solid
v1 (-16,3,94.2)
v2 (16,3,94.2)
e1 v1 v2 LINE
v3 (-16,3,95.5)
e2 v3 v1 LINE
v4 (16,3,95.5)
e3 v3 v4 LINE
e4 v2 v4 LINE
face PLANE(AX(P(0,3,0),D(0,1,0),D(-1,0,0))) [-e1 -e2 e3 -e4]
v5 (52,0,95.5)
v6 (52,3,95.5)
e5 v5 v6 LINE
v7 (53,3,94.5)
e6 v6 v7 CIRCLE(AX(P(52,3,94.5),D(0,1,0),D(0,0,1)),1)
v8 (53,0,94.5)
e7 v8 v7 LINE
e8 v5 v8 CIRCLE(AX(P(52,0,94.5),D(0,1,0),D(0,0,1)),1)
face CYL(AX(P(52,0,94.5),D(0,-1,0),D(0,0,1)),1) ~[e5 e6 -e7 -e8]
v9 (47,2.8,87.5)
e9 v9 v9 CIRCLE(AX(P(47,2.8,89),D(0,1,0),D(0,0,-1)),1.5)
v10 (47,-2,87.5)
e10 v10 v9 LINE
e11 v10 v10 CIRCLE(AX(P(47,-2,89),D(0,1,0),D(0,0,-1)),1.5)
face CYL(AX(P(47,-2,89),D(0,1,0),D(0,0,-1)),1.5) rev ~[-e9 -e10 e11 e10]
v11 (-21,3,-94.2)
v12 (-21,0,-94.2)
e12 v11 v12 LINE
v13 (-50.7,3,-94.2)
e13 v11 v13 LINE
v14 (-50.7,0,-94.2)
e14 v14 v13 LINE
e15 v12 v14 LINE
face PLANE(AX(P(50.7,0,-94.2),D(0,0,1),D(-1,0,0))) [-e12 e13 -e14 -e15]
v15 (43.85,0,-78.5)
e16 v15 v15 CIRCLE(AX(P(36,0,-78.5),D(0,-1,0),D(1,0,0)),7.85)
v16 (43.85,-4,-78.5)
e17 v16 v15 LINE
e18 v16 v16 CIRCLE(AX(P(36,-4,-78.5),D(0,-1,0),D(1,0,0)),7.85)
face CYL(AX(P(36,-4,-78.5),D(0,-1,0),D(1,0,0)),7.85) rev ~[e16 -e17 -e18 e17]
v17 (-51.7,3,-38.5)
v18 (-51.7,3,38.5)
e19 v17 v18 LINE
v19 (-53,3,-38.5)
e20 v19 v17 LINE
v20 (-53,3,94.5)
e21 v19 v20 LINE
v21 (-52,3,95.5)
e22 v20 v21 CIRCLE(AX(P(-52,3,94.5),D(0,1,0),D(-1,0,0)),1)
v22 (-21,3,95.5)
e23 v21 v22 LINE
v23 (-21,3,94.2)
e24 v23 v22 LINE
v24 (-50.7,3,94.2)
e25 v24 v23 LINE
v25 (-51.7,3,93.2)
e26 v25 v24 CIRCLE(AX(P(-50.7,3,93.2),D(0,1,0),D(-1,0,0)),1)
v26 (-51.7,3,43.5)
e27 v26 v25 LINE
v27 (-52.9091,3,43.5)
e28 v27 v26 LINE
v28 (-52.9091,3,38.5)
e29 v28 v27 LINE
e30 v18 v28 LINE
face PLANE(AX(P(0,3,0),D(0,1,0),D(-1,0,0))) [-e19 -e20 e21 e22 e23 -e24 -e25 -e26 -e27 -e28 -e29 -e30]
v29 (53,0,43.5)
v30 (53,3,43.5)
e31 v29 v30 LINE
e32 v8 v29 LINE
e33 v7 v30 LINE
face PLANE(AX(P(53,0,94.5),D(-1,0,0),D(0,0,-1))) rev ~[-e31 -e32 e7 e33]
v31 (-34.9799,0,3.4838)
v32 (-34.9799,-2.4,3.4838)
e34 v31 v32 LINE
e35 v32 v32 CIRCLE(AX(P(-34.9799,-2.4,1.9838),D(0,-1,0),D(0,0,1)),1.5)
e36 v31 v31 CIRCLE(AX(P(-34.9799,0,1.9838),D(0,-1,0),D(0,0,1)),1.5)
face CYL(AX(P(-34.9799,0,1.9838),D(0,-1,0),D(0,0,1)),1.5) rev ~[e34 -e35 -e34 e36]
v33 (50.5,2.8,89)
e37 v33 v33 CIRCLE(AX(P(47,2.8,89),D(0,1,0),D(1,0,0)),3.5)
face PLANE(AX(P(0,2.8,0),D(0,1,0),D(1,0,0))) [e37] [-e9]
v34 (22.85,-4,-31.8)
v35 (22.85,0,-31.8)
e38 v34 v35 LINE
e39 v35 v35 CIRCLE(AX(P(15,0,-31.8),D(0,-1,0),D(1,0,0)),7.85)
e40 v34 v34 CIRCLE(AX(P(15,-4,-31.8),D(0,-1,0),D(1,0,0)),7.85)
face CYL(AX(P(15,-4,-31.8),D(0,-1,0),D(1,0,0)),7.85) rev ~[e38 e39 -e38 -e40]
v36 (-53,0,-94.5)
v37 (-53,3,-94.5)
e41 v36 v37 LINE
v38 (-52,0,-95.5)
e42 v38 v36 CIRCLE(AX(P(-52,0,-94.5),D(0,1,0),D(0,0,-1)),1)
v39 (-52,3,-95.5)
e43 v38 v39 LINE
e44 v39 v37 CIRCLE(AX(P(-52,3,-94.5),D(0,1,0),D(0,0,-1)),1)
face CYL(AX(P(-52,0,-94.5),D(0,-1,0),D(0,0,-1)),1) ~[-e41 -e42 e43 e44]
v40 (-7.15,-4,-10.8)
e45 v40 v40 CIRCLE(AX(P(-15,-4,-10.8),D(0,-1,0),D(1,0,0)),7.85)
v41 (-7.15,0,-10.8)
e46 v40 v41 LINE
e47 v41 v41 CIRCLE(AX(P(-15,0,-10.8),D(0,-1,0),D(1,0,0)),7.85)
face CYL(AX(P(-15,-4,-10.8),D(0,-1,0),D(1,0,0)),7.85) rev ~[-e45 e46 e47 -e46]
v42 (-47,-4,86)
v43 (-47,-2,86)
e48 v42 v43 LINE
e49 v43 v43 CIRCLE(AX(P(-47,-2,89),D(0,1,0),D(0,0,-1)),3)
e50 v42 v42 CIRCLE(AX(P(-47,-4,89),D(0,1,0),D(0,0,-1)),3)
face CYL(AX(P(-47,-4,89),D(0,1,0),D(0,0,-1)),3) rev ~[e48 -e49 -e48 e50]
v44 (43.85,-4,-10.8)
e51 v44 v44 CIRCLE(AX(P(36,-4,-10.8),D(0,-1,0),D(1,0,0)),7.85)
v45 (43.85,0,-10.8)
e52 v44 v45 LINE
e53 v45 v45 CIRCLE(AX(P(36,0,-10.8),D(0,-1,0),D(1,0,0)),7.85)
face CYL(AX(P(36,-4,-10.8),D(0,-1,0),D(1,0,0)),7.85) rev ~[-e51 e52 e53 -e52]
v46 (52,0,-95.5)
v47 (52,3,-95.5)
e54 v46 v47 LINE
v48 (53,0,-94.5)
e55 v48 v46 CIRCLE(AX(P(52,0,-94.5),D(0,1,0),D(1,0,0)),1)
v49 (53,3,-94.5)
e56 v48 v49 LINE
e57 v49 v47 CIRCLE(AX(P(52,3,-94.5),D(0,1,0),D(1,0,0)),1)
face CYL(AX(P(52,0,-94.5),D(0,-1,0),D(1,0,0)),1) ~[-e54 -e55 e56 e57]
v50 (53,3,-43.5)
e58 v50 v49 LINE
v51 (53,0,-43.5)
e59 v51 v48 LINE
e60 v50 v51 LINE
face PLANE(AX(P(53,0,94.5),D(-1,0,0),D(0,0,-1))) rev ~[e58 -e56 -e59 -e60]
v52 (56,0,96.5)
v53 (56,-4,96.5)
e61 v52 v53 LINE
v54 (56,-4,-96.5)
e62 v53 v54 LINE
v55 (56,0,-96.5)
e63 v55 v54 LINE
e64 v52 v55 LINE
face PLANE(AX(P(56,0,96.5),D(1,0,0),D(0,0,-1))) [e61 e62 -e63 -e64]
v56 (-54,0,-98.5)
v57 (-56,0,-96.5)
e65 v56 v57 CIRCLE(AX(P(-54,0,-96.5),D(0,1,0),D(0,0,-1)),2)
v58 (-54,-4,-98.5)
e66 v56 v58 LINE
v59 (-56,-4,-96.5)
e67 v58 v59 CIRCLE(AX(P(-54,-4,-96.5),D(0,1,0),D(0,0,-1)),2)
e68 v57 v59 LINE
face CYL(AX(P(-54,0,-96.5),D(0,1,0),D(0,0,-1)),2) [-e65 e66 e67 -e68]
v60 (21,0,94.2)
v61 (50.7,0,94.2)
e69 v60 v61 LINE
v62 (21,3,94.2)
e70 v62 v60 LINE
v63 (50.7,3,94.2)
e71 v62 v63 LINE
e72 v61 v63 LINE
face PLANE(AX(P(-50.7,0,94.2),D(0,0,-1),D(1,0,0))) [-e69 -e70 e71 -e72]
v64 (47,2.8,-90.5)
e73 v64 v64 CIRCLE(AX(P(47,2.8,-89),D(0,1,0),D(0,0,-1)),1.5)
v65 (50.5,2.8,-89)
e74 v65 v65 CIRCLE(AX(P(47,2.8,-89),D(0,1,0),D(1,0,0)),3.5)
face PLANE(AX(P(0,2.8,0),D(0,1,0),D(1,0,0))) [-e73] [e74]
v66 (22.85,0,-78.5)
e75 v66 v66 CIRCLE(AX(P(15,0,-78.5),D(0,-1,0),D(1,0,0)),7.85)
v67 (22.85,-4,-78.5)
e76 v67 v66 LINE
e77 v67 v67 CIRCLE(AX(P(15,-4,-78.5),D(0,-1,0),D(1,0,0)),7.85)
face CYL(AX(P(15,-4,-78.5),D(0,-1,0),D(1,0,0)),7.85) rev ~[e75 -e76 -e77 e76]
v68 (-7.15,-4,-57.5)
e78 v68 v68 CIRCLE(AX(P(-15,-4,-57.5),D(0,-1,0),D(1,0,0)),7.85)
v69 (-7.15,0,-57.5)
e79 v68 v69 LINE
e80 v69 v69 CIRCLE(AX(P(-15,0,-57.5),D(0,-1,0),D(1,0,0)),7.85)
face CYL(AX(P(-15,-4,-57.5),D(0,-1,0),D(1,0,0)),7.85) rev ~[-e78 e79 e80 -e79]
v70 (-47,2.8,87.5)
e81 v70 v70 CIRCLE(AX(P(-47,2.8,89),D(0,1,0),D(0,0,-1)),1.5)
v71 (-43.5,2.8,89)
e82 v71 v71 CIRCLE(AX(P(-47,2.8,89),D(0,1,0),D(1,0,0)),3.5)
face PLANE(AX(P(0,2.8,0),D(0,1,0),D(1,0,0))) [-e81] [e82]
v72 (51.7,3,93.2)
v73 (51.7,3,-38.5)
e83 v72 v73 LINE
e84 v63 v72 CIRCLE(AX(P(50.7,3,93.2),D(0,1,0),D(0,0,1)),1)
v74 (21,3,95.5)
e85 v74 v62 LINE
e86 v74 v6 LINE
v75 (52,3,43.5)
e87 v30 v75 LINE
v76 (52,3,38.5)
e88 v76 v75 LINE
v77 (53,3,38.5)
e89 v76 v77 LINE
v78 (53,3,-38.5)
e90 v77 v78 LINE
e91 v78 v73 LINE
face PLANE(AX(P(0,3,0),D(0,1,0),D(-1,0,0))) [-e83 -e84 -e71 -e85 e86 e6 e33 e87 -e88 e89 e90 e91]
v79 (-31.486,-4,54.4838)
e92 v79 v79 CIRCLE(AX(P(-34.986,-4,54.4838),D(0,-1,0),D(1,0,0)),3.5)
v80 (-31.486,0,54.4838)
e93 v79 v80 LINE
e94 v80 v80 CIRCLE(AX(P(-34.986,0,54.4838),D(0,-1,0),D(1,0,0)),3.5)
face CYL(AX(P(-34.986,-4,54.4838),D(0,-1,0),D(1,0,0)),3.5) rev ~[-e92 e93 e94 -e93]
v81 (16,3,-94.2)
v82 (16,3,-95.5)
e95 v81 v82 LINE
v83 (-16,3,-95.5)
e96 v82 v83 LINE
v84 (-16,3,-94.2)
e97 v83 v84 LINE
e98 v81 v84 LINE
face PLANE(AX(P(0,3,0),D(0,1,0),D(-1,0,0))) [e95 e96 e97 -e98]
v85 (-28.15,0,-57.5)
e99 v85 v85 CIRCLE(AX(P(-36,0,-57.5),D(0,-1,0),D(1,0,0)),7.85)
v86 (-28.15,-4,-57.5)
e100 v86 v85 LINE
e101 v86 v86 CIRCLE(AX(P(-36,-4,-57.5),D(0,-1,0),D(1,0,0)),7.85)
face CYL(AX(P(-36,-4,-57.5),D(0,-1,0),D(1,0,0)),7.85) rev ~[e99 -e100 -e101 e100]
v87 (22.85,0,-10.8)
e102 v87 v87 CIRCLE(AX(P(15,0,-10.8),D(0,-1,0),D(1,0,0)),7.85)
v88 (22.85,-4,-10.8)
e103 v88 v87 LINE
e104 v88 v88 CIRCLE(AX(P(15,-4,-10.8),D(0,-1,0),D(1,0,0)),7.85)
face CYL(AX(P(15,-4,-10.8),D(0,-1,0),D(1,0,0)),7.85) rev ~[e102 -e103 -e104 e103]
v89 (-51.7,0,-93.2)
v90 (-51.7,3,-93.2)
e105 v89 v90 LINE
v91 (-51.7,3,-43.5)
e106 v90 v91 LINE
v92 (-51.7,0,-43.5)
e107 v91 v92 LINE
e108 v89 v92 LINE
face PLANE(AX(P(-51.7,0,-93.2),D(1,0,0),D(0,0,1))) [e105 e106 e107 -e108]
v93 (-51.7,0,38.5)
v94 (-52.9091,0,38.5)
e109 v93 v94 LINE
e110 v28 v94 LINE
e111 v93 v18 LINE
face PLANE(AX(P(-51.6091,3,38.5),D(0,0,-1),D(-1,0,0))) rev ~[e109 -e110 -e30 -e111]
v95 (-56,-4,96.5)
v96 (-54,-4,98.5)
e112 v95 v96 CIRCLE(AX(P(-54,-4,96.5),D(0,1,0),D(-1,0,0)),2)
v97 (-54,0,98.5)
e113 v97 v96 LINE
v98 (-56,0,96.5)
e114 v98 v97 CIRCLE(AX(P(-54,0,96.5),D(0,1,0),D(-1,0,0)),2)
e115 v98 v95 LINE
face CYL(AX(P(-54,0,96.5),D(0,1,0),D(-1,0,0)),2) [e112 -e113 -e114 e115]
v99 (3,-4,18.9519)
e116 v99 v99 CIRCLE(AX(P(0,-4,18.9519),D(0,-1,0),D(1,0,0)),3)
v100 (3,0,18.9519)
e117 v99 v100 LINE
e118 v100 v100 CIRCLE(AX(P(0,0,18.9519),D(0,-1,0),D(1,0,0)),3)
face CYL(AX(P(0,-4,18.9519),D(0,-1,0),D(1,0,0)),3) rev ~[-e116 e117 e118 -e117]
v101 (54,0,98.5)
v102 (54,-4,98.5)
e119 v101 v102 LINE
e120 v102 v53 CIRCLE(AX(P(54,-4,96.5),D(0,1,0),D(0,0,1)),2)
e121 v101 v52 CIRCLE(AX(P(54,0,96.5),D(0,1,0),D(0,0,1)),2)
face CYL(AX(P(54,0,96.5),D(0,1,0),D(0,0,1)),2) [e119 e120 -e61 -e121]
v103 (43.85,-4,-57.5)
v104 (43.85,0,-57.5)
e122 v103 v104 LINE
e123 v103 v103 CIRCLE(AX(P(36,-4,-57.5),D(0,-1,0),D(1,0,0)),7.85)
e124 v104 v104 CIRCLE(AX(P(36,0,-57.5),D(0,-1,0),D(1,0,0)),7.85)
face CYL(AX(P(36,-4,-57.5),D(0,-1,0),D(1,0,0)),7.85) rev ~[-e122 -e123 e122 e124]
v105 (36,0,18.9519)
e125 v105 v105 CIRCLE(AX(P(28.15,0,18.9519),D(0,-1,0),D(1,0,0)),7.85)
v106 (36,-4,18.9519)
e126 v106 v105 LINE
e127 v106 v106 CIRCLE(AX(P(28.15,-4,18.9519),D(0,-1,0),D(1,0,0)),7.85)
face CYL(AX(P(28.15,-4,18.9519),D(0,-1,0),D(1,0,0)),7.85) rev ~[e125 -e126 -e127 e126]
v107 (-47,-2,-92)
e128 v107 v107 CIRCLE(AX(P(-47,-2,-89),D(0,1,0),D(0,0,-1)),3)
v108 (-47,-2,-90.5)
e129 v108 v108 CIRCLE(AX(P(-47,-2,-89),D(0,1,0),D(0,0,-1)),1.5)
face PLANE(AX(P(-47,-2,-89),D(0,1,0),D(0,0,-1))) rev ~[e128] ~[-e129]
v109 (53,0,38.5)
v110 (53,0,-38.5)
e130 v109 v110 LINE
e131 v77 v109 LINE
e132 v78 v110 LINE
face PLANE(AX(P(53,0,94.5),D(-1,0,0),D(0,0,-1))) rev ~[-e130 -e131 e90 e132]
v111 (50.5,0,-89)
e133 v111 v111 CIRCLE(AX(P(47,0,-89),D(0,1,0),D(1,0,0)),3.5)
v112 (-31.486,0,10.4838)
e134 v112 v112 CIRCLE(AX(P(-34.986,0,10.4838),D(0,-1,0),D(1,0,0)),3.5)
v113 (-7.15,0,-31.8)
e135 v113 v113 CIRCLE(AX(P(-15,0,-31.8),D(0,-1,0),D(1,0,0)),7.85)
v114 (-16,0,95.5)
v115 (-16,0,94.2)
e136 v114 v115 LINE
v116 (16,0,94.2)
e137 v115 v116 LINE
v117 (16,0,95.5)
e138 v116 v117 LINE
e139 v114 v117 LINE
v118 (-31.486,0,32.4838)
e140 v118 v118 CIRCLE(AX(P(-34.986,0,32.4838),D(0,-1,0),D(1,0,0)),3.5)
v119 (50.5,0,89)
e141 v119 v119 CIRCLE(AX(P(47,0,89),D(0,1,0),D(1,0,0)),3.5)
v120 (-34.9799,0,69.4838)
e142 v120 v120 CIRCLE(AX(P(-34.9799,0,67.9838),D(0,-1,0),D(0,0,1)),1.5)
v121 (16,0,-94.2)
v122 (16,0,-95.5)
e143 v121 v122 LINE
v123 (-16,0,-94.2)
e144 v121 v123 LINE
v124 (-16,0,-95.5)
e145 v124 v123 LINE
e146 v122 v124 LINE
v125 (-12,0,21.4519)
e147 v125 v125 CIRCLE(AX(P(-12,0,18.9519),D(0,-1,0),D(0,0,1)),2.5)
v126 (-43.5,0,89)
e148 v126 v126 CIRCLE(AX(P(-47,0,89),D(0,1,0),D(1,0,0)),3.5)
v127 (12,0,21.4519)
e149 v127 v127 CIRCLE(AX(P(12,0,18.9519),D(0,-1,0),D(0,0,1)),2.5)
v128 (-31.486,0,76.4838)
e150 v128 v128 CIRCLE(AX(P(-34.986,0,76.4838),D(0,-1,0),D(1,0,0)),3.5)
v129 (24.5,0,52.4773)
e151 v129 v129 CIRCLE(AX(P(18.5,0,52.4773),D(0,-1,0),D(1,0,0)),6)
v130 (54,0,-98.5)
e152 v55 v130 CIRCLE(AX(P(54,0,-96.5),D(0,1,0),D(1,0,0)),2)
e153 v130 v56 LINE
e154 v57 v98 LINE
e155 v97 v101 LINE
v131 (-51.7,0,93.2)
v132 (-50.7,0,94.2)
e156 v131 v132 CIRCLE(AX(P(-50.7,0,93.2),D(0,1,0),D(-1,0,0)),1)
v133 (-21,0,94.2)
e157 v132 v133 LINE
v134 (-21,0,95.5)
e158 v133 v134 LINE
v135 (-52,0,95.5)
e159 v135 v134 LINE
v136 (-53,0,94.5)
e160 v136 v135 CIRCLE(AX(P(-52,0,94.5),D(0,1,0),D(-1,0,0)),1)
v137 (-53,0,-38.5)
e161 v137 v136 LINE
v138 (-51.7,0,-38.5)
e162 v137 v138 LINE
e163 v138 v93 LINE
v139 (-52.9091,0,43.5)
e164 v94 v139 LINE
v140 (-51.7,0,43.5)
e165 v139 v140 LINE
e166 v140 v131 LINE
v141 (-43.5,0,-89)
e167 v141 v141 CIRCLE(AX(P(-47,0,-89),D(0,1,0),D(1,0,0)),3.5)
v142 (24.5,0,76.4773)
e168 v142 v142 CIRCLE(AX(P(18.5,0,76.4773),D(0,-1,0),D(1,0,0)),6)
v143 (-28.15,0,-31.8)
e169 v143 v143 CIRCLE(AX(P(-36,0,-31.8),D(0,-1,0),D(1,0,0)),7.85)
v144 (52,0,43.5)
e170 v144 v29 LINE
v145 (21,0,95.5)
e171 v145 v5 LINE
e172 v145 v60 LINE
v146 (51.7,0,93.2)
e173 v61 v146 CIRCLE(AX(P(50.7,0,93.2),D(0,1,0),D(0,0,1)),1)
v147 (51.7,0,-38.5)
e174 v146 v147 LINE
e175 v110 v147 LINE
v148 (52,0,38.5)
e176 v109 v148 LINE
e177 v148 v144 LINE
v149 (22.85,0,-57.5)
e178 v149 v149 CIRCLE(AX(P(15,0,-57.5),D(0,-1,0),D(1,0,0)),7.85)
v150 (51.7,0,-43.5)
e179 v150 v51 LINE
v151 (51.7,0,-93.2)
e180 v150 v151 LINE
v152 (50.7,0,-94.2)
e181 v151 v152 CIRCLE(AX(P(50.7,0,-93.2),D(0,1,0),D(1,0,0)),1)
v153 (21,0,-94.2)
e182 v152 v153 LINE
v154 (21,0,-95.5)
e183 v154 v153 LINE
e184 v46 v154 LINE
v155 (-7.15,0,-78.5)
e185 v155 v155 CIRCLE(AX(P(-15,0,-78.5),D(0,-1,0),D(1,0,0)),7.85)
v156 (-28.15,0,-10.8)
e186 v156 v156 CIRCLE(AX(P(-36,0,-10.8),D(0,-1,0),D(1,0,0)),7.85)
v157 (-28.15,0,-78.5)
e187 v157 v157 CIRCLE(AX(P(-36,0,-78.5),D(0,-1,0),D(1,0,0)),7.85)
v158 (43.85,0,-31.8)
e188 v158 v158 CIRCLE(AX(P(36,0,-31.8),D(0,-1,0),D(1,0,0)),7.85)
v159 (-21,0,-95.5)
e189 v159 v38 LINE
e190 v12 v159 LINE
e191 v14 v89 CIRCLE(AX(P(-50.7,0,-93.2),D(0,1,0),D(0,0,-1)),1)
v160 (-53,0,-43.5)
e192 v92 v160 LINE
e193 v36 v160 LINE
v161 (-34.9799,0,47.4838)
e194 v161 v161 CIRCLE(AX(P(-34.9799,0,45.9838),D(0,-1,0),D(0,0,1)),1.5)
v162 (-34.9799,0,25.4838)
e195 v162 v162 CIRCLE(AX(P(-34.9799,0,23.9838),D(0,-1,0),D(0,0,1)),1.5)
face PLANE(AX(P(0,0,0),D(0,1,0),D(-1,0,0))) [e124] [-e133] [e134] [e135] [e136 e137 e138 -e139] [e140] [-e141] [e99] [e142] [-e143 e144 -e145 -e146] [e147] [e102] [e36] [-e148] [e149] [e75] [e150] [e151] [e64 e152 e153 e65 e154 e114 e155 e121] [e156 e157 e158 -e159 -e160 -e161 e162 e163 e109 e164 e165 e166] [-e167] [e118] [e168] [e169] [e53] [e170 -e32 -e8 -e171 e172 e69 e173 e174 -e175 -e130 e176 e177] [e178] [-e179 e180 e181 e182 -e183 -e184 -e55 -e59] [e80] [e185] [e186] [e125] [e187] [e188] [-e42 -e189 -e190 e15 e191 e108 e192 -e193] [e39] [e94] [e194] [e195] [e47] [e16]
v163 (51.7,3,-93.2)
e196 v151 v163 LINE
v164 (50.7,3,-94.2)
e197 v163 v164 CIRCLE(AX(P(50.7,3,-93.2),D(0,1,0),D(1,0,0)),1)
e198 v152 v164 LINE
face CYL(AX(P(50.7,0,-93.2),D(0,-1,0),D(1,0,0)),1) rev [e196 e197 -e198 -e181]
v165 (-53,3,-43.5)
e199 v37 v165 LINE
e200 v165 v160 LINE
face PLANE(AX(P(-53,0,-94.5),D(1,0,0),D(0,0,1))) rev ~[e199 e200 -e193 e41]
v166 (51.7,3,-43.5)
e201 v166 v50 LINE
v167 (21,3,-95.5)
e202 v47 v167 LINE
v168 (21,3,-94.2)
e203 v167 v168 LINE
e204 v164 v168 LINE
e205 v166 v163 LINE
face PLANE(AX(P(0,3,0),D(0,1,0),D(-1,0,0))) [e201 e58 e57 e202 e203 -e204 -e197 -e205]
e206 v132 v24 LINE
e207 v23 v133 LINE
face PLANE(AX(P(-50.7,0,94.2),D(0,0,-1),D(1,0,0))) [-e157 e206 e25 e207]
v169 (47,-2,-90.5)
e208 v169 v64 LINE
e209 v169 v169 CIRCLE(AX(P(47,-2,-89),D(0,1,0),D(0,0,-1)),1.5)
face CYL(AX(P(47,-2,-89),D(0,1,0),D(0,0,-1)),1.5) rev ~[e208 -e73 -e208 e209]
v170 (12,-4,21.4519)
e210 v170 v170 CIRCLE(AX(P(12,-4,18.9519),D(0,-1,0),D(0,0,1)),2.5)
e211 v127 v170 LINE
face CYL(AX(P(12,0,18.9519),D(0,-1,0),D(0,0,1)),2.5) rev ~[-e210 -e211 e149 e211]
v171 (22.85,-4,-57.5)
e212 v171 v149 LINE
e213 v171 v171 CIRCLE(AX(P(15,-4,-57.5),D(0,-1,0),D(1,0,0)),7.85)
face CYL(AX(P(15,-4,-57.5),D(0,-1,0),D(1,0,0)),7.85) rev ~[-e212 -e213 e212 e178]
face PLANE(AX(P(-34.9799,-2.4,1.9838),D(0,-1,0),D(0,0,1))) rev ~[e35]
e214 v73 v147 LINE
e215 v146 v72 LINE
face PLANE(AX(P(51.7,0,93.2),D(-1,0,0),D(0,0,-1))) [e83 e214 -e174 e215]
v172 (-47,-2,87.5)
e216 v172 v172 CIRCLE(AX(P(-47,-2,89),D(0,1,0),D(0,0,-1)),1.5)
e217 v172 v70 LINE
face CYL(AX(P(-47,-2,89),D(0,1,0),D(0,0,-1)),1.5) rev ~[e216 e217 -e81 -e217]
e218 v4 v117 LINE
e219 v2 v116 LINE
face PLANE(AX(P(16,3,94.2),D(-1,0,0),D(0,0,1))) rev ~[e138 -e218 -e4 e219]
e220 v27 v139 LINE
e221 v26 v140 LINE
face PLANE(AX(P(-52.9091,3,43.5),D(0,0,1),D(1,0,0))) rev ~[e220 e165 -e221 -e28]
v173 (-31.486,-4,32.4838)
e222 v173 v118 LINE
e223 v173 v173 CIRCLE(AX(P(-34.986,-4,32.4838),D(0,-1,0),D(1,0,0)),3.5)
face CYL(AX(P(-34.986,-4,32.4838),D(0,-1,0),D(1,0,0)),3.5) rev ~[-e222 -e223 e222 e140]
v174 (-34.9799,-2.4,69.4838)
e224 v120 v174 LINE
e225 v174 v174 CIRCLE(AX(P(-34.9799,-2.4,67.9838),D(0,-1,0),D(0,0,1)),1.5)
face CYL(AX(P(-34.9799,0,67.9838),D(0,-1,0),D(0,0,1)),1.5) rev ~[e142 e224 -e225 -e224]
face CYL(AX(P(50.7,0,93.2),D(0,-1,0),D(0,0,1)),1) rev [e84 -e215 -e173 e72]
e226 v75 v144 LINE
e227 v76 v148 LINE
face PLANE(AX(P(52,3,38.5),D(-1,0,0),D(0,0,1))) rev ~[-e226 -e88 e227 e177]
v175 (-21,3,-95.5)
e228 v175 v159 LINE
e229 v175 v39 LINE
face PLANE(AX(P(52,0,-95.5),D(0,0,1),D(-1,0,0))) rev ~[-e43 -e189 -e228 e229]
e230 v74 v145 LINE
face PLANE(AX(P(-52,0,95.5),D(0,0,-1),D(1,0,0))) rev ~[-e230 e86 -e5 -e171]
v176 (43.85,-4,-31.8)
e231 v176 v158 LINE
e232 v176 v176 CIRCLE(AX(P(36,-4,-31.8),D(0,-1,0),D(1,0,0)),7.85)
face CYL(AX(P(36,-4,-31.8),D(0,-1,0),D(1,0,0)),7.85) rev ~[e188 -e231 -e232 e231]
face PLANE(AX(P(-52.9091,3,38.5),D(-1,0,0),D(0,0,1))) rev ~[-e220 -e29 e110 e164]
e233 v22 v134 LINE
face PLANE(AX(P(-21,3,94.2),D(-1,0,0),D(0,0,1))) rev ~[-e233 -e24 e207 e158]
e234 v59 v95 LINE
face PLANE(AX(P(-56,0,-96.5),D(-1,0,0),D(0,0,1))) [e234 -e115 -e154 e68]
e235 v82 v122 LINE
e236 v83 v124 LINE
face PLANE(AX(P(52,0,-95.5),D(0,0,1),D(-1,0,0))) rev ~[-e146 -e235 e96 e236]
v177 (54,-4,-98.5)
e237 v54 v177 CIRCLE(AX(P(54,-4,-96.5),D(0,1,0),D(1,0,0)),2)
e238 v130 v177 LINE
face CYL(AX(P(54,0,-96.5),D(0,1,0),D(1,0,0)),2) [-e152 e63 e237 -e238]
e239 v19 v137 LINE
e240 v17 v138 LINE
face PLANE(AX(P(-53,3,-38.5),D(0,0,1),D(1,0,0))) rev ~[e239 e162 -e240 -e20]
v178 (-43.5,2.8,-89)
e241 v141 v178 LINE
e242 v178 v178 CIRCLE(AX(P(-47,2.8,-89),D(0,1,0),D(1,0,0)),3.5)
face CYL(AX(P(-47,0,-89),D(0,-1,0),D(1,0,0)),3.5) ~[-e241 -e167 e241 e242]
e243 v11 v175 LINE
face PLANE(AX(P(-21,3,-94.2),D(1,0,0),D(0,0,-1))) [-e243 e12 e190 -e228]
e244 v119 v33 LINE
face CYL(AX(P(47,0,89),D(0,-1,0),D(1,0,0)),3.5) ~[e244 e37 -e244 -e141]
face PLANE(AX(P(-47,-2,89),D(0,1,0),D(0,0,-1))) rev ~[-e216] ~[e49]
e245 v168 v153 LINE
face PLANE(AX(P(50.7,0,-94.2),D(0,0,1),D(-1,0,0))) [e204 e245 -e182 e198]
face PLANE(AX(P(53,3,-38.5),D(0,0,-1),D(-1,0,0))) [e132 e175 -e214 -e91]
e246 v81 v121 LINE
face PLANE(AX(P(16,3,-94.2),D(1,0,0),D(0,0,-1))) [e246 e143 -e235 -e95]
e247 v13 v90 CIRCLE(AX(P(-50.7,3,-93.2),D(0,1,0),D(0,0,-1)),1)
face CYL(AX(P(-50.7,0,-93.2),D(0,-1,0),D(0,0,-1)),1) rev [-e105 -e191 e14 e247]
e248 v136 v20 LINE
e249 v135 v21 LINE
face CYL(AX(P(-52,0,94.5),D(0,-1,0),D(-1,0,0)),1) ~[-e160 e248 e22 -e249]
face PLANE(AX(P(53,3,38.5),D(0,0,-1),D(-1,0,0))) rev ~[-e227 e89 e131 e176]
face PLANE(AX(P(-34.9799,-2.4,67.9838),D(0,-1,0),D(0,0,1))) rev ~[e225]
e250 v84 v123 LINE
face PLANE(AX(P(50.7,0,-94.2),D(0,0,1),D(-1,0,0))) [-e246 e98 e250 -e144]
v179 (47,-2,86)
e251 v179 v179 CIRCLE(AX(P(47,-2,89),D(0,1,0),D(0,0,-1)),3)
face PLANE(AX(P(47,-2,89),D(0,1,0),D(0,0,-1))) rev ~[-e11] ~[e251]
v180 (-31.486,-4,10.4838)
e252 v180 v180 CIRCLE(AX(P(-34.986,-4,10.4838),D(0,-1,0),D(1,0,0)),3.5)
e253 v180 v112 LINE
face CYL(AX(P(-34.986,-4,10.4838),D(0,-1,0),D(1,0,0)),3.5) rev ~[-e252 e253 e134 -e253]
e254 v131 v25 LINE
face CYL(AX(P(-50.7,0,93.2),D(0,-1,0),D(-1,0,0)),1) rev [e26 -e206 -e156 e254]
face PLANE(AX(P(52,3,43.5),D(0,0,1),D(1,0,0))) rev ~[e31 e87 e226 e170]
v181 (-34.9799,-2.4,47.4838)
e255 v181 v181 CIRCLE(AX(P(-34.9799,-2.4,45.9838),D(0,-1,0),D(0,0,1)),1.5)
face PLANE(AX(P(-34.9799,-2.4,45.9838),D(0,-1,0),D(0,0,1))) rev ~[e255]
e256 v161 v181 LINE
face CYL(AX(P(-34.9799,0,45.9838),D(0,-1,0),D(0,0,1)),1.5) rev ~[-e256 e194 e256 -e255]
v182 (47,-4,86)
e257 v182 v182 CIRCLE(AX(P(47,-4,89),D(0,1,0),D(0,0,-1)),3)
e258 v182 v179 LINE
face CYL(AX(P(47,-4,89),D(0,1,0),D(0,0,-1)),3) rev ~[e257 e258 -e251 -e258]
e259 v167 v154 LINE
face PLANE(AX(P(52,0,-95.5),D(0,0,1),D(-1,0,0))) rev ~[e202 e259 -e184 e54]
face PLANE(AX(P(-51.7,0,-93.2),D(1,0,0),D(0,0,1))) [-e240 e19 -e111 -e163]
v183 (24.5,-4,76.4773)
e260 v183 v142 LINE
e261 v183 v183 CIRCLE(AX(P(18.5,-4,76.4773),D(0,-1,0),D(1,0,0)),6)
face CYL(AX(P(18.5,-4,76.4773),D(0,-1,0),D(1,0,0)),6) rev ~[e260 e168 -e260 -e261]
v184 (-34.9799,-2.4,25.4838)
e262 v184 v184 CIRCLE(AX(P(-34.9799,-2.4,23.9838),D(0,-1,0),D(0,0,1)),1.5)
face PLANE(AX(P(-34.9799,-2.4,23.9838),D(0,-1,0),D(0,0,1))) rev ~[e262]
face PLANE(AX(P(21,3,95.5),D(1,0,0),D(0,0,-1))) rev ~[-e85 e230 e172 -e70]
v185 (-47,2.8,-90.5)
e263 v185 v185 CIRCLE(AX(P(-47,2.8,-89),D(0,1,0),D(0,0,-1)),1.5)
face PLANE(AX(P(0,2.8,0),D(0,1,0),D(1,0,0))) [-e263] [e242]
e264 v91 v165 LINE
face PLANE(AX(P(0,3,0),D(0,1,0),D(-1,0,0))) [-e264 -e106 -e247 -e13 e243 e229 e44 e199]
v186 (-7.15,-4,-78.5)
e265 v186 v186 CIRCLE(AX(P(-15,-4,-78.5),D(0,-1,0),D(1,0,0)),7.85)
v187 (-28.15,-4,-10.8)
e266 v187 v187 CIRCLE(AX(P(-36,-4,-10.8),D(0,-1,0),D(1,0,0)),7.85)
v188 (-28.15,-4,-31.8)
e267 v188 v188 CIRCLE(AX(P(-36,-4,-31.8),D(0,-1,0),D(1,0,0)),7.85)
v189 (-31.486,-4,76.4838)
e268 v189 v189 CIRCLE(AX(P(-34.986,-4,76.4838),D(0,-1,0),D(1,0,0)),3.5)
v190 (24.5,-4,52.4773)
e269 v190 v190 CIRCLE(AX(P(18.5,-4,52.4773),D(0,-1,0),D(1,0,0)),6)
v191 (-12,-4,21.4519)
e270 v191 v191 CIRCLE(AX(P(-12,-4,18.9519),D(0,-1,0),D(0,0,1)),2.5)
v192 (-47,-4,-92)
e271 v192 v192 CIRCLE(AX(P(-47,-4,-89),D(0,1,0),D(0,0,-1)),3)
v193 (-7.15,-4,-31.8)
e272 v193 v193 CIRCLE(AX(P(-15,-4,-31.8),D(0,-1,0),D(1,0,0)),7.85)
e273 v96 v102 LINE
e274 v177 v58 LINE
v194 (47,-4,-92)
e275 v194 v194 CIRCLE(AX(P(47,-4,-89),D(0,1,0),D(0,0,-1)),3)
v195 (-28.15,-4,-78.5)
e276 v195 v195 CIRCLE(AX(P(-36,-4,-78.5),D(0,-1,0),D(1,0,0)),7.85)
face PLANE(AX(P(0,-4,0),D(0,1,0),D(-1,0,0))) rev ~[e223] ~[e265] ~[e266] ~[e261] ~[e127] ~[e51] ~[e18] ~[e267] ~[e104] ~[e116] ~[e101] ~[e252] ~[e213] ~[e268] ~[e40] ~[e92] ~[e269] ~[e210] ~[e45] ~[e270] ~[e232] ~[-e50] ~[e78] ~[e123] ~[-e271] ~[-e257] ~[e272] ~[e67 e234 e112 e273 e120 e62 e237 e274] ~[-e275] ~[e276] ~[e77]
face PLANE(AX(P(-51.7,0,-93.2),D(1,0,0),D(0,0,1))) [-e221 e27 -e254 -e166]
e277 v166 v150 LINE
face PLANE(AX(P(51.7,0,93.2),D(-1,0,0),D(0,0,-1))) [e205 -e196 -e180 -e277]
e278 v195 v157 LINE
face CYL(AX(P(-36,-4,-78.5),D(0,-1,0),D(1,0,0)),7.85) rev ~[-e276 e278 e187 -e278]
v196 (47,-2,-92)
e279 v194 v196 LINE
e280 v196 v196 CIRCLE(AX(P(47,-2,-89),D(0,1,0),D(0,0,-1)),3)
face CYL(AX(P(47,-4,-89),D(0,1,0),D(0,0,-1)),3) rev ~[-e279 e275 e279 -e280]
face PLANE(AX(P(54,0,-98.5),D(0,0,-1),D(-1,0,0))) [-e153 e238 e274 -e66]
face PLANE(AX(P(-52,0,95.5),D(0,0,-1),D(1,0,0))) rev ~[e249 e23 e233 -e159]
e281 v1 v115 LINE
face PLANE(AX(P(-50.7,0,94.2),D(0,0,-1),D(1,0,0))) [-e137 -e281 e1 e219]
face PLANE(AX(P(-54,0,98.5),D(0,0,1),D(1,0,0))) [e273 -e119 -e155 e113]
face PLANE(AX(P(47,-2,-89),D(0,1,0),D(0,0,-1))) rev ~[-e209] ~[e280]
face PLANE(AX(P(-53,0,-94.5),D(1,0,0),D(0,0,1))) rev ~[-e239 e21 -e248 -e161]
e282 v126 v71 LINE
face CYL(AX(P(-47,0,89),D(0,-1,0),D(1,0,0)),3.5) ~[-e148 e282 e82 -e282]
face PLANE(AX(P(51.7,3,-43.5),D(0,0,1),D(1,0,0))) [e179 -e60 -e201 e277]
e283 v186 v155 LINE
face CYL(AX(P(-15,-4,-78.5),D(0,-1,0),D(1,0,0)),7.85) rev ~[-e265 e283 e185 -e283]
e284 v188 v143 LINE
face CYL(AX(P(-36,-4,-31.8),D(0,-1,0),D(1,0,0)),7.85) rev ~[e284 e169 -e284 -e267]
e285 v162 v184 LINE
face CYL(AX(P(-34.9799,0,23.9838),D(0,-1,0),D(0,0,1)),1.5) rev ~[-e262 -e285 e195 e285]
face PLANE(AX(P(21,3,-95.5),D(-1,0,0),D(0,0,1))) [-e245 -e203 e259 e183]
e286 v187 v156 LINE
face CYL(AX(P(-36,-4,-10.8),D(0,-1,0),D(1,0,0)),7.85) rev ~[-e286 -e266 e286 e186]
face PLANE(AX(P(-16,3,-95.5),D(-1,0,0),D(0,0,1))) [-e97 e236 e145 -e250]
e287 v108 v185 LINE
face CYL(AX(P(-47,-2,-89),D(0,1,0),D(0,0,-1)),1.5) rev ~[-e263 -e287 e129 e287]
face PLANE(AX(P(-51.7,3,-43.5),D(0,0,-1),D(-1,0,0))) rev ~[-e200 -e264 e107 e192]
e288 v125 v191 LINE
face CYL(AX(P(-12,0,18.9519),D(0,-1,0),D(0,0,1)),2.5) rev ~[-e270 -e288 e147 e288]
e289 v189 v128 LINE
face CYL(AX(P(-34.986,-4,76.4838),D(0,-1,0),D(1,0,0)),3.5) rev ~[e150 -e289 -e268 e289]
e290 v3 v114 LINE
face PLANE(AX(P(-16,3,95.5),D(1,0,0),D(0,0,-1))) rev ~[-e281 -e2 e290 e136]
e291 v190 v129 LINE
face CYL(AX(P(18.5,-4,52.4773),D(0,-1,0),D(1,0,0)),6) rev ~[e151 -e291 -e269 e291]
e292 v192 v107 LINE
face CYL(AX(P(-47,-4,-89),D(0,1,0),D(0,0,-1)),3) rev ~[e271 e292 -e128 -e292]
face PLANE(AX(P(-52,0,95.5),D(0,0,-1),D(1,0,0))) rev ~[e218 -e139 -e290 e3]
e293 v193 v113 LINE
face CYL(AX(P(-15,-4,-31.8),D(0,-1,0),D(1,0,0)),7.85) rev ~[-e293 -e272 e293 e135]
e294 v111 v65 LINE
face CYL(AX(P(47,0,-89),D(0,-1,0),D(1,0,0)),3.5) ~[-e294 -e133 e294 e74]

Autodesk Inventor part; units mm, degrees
ref_plane "YZ Plane" through (0, 0, 0) normal (1, 0, 0) x (0, 1, 0)
ref_plane "XZ Plane" through (0, 0, 0) normal (0, 1, 0) x (-1, 0, 0)
ref_plane "XY Plane" through (0, 0, 0) normal (0, 0, 1) x (1, 0, 0)
sketch "Sketch1" plane through (0, 0, 0) normal (0, 1, 0) x (-1, 0, 0)
  line L0 (54, 98.5) -> (-54, 98.5)
  line L1 (-56, 96.5) -> (-56, -96.5)
  line L2 (-54, -98.5) -> (54, -98.5)
  line L3 (56, -96.5) -> (56, 96.5)
  line L4 (56, 98.5) -> (-56, -98.5) construction
  line L5 (-56, 98.5) -> (56, -98.5) construction
  line L6 (52, 95.5) -> (-52, 95.5)
  line L7 (-53, 94.5) -> (-53, -94.5)
  line L8 (-52, -95.5) -> (52, -95.5)
  line L9 (53, -94.5) -> (53, 94.5)
  arc A0 (56, 96.5) -> (54, 98.5) centre (54, 96.5) ccw
  arc A1 (-54, 98.5) -> (-56, 96.5) centre (-54, 96.5) ccw
  arc A2 (54, -98.5) -> (56, -96.5) centre (54, -96.5) ccw
  arc A3 (-56, -96.5) -> (-54, -98.5) centre (-54, -96.5) ccw
  line L10 (50.7, 94.2) -> (-50.7, 94.2)
  line L11 (-51.7, 93.2) -> (-51.7, -93.2)
  line L12 (-50.7, -94.2) -> (50.7, -94.2)
  line L13 (51.7, -93.2) -> (51.7, 93.2)
  arc A4 (53, 94.5) -> (52, 95.5) centre (52, 94.5) ccw
  arc A5 (51.7, 93.2) -> (50.7, 94.2) centre (50.7, 93.2) ccw
  arc A6 (52, -95.5) -> (53, -94.5) centre (52, -94.5) ccw
  arc A7 (50.7, -94.2) -> (51.7, -93.2) centre (50.7, -93.2) ccw
  arc A8 (-53, -94.5) -> (-52, -95.5) centre (-52, -94.5) ccw
  arc A9 (-51.7, -93.2) -> (-50.7, -94.2) centre (-50.7, -93.2) ccw
  arc A10 (-52, 95.5) -> (-53, 94.5) centre (-52, 94.5) ccw
  arc A11 (-50.7, 94.2) -> (-51.7, 93.2) centre (-50.7, 93.2) ccw
  point P0 (0, 0)
  dimension "d0" = 112
  dimension "d1" = 197
  dimension "d2" = 3
  dimension "d3" = 2
  dimension "d4" = 1.3
  dimension "d7" = 1
extrude "Extrusion1" add sketch "Sketch1" against normal blind 4 contours A0 L3 A2 L2 A3 L1 A1 L0 | A4 L9 A6 L8 A8 L7 A10 L6 | A5 L13 A7 L12 A9 L11 A11 L10
extrude "Extrusion2" add sketch "Sketch1" along normal blind 3 contours A4 L9 A6 L8 A8 L7 A10 L6
sketch "Sketch2" plane through (0, 3, 0) normal (0, 1, 0) x (1, 0, 0)
  line L0 (-52.9091, -43.5) -> (-51.6091, -43.5)
  line L1 (-51.6091, -43.5) -> (-51.6091, -38.5)
  line L2 (-51.6091, -38.5) -> (-52.9091, -38.5)
  line L3 (-52.9091, -38.5) -> (-52.9091, -43.5)
  line L4 (-52, -95.5) -> (52, -95.5) projected
  line L5 (52, -43.5) -> (53.3, -43.5)
  line L6 (53.3, -43.5) -> (53.3, -38.5)
  line L7 (53.3, -38.5) -> (52, -38.5)
  line L8 (52, -38.5) -> (52, -43.5)
  line L9 (-53, -94.5) -> (-53, 94.5) projected
  line L10 (-53, 38.5) -> (-51.7, 38.5)
  line L11 (-51.7, 38.5) -> (-51.7, 43.5)
  line L12 (-51.7, 43.5) -> (-53, 43.5)
  line L13 (-53, 43.5) -> (-53, 38.5)
  line L14 (52, 95.5) -> (-52, 95.5) projected
  line L15 (51.7, -93.2) -> (51.7, 93.2) projected
  line L16 (53, 94.5) -> (53, -94.5) projected
  line L17 (51.7, 43.5) -> (53, 43.5)
  line L18 (53, 43.5) -> (53, 38.5)
  line L19 (53, 38.5) -> (51.7, 38.5)
  line L20 (51.7, 38.5) -> (51.7, 43.5)
  point P0 (0, 0)
  dimension "d10" = 1.3
  dimension "d11" = 5
  dimension "d12" = 52
  dimension "d13" = 1.3
  dimension "d14" = 1.3
  dimension "d15" = 5
  dimension "d16" = 52
extrude "Extrusion3" cut sketch "Sketch2" against normal blind 3
sketch "Sketch3" plane through (0, 0, 0) normal (0, 1, 0) x (1, 0, 0)
  circle A0 centre (-47, -89) radius 3.5
  line L0 (-54, -98.5) -> (54, -98.5) projected
  line L1 (-56, 96.5) -> (-56, -96.5) projected
  circle A1 centre (-47, 89) radius 3.5
  circle A2 centre (47, -89) radius 3.5
  circle A3 centre (47, 89) radius 3.5
  line L2 (56, -96.5) -> (56, 96.5) projected
  line L3 (54, 98.5) -> (-54, 98.5) projected
  point P0 (0, 0)
  dimension "d19" = 7
  dimension "d20" = 9.5
  dimension "d21" = 9
  dimension "d22" = 7
  dimension "d23" = 7
  dimension "d24" = 7
  dimension "d25" = 9.5
  dimension "d26" = 9
  dimension "d27" = 9.5
  dimension "d28" = 9
  dimension "d29" = 9.5
  dimension "d30" = 9
extrude "Extrusion4" add sketch "Sketch3" along normal blind 2.8
sketch "Sketch5" plane through (0, -4, 0) normal (0, -1, 0) x (1, 0, 0)
  circle A0 centre (47, 89) radius 3.5 projected
  circle A1 centre (47, -89) radius 3.5 projected
  circle A2 centre (-47, -89) radius 3.5 projected
  circle A3 centre (-47, 89) radius 3.5 projected
  point P0 (0, 0)
hole "Hole1" at (47, -4, 89) at (47, -4, -89) at (-47, -4, -89) at (-47, -4, 89) direction (0, 1, 0) diameter 3 end through all counterbore diameter 6 counterbore depth 2
sketch "Sketch7" plane through (0, -4, 0) normal (0, -1, 0) x (1, 0, 0)
  circle A0 centre (-47, -89) radius 3 construction
  circle A1 centre (47, 89) radius 3 construction
  circle A2 centre (47, -89) radius 3 construction
  circle A3 centre (-47, 89) radius 3 construction
  line L0 (54, 98.5) -> (-54, 98.5) construction
  arc A4 (-54, 98.5) -> (-56, 96.5) centre (-54, 96.5) ccw construction
  line L1 (-56, 96.5) -> (-56, -96.5) construction
  arc A5 (-56, -96.5) -> (-54, -98.5) centre (-54, -96.5) ccw construction
  line L2 (-54, -98.5) -> (54, -98.5) construction
  arc A6 (54, -98.5) -> (56, -96.5) centre (54, -96.5) ccw construction
  line L3 (56, -96.5) -> (56, 96.5) construction
  arc A7 (56, 96.5) -> (54, 98.5) centre (54, 96.5) ccw construction
  line L4 (46, 88.5) -> (46, -88.5) construction
  line L5 (46, -88.5) -> (-46, -88.5) construction
  line L6 (-46, -88.5) -> (-46, 88.5) construction
  line L7 (-46, 88.5) -> (46, 88.5) construction
  circle A8 centre (36, -78.5) radius 7.85
  circle A9 centre (36, -78.5) radius 9.575 construction
  line L8 (46, 84.9773) -> (5.5, 84.9773) construction
  line L9 (5.5, 84.9773) -> (5.5, 67.9773) construction
  line L10 (5.5, 67.9773) -> (46, 67.9773) construction
  line L11 (46, 67.9773) -> (46, 84.9773) construction
  circle A10 centre (18.5, 76.4773) radius 6
  line L12 (46, 60.9773) -> (5.5, 60.9773) construction
  line L13 (5.5, 60.9773) -> (5.5, 43.9773) construction
  line L14 (5.5, 43.9773) -> (46, 43.9773) construction
  circle A11 centre (18.5, 52.4773) radius 6
  line L15 (-43.986, 84.9838) -> (-16.986, 84.9838) construction
  line L16 (-16.986, 84.9838) -> (-16.986, 67.9838) construction
  line L17 (-16.986, 67.9838) -> (-43.986, 67.9838) construction
  line L18 (-43.986, 67.9838) -> (-43.986, 84.9838) construction
  circle A12 centre (-34.986, 76.4838) radius 3.5
  line L19 (-16.986, 45.9838) -> (-43.986, 45.9838) construction
  line L20 (-43.986, 45.9838) -> (-43.986, 62.9838) construction
  line L21 (-16.986, 62.9838) -> (-16.986, 45.9838) construction
  circle A13 centre (-34.986, 54.4838) radius 3.5
  line L22 (-16.986, 23.9838) -> (-43.986, 23.9838) construction
  line L23 (-43.986, 23.9838) -> (-43.986, 40.9838) construction
  line L24 (-16.986, 40.9838) -> (-16.986, 23.9838) construction
  circle A14 centre (-34.986, 32.4838) radius 3.5
  line L25 (-16.986, 1.9838) -> (-43.986, 1.9838) construction
  line L26 (-43.986, 1.9838) -> (-43.986, 18.9838) construction
  line L27 (-16.986, 18.9838) -> (-16.986, 1.9838) construction
  circle A15 centre (-34.986, 10.4838) radius 3.5
  line L28 (-34.986, 76.4838) -> (65.1824, 76.4838) construction
  circle A16 centre (0, 18.9519) radius 3
  line L29 (6.5, 25.4519) -> (-6.5, 25.4519) construction
  line L30 (-6.5, 25.4519) -> (-6.5, 12.4519) construction
  line L31 (-6.5, 12.4519) -> (6.5, 12.4519) construction
  line L32 (6.5, 12.4519) -> (6.5, 25.4519) construction
  line L33 (6.5, 25.4519) -> (-6.5, 12.4519) construction
  line L34 (-6.5, 25.4519) -> (6.5, 12.4519) construction
  circle A17 centre (36, -57.5) radius 7.85
  circle A18 centre (36, -57.5) radius 9.575 construction
  circle A19 centre (15, -78.5) radius 7.85
  circle A20 centre (15, -78.5) radius 9.575 construction
  circle A21 centre (15, -57.5) radius 7.85
  circle A22 centre (15, -57.5) radius 9.575 construction
  circle A23 centre (36, -31.8) radius 7.85
  circle A24 centre (36, -31.8) radius 9.575 construction
  circle A25 centre (36, -10.8) radius 7.85
  circle A26 centre (36, -10.8) radius 9.575 construction
  circle A27 centre (15, -31.8) radius 7.85
  circle A28 centre (15, -31.8) radius 9.575 construction
  circle A29 centre (15, -10.8) radius 7.85
  circle A30 centre (15, -10.8) radius 9.575 construction
  circle A31 centre (-15, -31.8) radius 7.85
  circle A32 centre (-15, -31.8) radius 9.575 construction
  circle A33 centre (-36, -31.8) radius 9.575 construction
  circle A34 centre (-36, -31.8) radius 7.85
  circle A35 centre (-36, -10.8) radius 9.575 construction
  circle A36 centre (-36, -10.8) radius 7.85
  circle A37 centre (-15, -10.8) radius 7.85
  circle A38 centre (-15, -10.8) radius 9.575 construction
  circle A39 centre (-15, -57.5) radius 7.85
  circle A40 centre (-15, -57.5) radius 9.575 construction
  circle A41 centre (-36, -57.5) radius 9.575 construction
  circle A42 centre (-36, -57.5) radius 7.85
  circle A43 centre (-36, -78.5) radius 9.575 construction
  circle A44 centre (-36, -78.5) radius 7.85
  circle A45 centre (-15, -78.5) radius 7.85
  circle A46 centre (-15, -78.5) radius 9.575 construction
  circle A47 centre (28.15, 18.9519) radius 7.85
  circle A48 centre (28.15, 18.9519) radius 9.75 construction
  point P0 (0, 0)
  point P1 (46, 76.4773)
  dimension "d40" = 10
  dimension "d41" = 15.7
  dimension "d42" = 10
  dimension "d43" = 10
  dimension "d44" = 19.15
  dimension "d53" = 40.5
  dimension "d54" = 17
  dimension "d55" = 12
  dimension "d56" = 13
  dimension "d57" = 8.5
  dimension "d60" = 24
  dimension "d65" = 27
  dimension "d66" = 17
  dimension "d67" = 7
  dimension "d68" = 9
  dimension "d69" = 8.5
  dimension "d72" = 22
  dimension "d77" = 6
  dimension "d78" = 13
  dimension "d79" = 13
  dimension "d82" = 21
  dimension "d85" = 21
  dimension "d88" = 15.7
  dimension "d89" = 19.15
  dimension "d90" = 10
  dimension "d93" = 21
  dimension "d96" = 21
  dimension "d101" = 51
  dimension "d106" = 15.7
  dimension "d107" = 19.5
extrude "Extrusion5" cut sketch "Sketch7" against normal through all
sketch "Sketch8" plane through (0, 0, 0) normal (0, 1, 0) x (1, 0, 0)
  line L0 (-16.986, -67.9838) -> (-43.986, -67.9838) construction
  line L1 (-16.986, -45.9838) -> (-43.986, -45.9838) construction
  line L2 (-16.986, -23.9838) -> (-43.986, -23.9838) construction
  line L3 (-16.986, -1.9838) -> (-43.986, -1.9838) construction
  line L4 (6.5, -12.4519) -> (6.5, -25.4519) construction
  point P0 (0, 0)
  point P1 (-34.9799, -67.9838)
  point P2 (-34.9799, -45.9838)
  point P3 (-34.9799, -23.9838)
  point P4 (-34.9799, -1.9838)
hole "Hole2" at (-34.9799, 0, 23.9838) at (-34.9799, 0, 45.9838) at (-34.9799, 0, 67.9838) at (-34.9799, 0, 1.9838) direction (0, -1, 0) diameter 3 depth 2.4
sketch "Sketch9" plane through (0, 0, 0) normal (0, 1, 0) x (1, 0, 0)
  line L0 (0, -18.9519) -> (24, -18.9519) construction
  line L1 (0, -18.9519) -> (-17.45, -18.9519) construction
  circle A0 centre (0, -18.9519) radius 3 construction
  point P0 (0, 0)
  point P1 (12, -18.9519)
  point P2 (-12, -18.9519)
  dimension "d117" = 12
  dimension "d118" = 12
hole "Hole3" at (12, 0, 18.9519) at (-12, 0, 18.9519) direction (0, -1, 0) diameter 5 end through all
sketch "Sketch10" plane through (0, 3, 0) normal (0, 1, 0) x (1, 0, 0)
  line L0 (-52, 95.5) -> (52, 95.5) projected
  line L1 (50.7, 94.2) -> (-50.7, 94.2) projected
  line L2 (-21, 95.5) -> (-16, 95.5)
  line L3 (-16, 95.5) -> (-16, 94.2)
  line L4 (-16, 94.2) -> (-21, 94.2)
  line L5 (-21, 94.2) -> (-21, 95.5)
  line L6 (-53, 94.5) -> (-53, 43.5) projected
  line L7 (16, 95.5) -> (21, 95.5)
  line L8 (21, 95.5) -> (21, 94.2)
  line L9 (21, 94.2) -> (16, 94.2)
  line L10 (16, 94.2) -> (16, 95.5)
  line L11 (53, 43.5) -> (53, 94.5) projected
  line L12 (0, 0) -> (30.4979, 0) construction
  line L13 (-52, -95.5) -> (52, -95.5)
  line L14 (50.7, -94.2) -> (-50.7, -94.2)
  line L15 (-21, -95.5) -> (-16, -95.5)
  line L16 (-16, -95.5) -> (-16, -94.2)
  line L17 (-16, -94.2) -> (-21, -94.2)
  line L18 (-21, -94.2) -> (-21, -95.5)
  line L19 (21, -95.5) -> (21, -94.2)
  line L20 (16, -94.2) -> (16, -95.5)
  line L21 (16, -95.5) -> (21, -95.5)
  line L22 (52, -95.5) -> (-52, -95.5) projected
  line L23 (16, -94.2) -> (21, -94.2)
  line L24 (-21, -95.5) -> (-16, -95.5)
  line L25 (-16, -95.5) -> (-16, -94.2)
  line L26 (-16, -94.2) -> (-21, -94.2)
  line L27 (-21, -94.2) -> (-21, -95.5)
  line L28 (16, -95.5) -> (21, -95.5)
  line L29 (21, -95.5) -> (21, -94.2)
  line L30 (21, -94.2) -> (16, -94.2)
  line L31 (16, -94.2) -> (16, -95.5)
  dimension "d126" = 5
  dimension "d127" = 32
  dimension "d128" = 5
  dimension "d129" = 32
extrude "Extrusion6" cut sketch "Sketch10" against normal up to surface (3 mm away) contours L0 L3 L1 L5 | L0 L8 L1 L10
extrude "Extrusion7" cut sketch "Sketch10" against normal up to surface (3 mm away) contours L18 L14 L16 L13 | L20 L14 L19 L13
equation "\"d16\" = d12"
equation "\"d25\" = d20"
equation "\"d26\" = d21"
equation "\"d27\" = d25"
equation "\"d28\" = d26"
equation "\"d29\" = d27"
equation "\"d30\" = d21"
properties part number "tapa2"
